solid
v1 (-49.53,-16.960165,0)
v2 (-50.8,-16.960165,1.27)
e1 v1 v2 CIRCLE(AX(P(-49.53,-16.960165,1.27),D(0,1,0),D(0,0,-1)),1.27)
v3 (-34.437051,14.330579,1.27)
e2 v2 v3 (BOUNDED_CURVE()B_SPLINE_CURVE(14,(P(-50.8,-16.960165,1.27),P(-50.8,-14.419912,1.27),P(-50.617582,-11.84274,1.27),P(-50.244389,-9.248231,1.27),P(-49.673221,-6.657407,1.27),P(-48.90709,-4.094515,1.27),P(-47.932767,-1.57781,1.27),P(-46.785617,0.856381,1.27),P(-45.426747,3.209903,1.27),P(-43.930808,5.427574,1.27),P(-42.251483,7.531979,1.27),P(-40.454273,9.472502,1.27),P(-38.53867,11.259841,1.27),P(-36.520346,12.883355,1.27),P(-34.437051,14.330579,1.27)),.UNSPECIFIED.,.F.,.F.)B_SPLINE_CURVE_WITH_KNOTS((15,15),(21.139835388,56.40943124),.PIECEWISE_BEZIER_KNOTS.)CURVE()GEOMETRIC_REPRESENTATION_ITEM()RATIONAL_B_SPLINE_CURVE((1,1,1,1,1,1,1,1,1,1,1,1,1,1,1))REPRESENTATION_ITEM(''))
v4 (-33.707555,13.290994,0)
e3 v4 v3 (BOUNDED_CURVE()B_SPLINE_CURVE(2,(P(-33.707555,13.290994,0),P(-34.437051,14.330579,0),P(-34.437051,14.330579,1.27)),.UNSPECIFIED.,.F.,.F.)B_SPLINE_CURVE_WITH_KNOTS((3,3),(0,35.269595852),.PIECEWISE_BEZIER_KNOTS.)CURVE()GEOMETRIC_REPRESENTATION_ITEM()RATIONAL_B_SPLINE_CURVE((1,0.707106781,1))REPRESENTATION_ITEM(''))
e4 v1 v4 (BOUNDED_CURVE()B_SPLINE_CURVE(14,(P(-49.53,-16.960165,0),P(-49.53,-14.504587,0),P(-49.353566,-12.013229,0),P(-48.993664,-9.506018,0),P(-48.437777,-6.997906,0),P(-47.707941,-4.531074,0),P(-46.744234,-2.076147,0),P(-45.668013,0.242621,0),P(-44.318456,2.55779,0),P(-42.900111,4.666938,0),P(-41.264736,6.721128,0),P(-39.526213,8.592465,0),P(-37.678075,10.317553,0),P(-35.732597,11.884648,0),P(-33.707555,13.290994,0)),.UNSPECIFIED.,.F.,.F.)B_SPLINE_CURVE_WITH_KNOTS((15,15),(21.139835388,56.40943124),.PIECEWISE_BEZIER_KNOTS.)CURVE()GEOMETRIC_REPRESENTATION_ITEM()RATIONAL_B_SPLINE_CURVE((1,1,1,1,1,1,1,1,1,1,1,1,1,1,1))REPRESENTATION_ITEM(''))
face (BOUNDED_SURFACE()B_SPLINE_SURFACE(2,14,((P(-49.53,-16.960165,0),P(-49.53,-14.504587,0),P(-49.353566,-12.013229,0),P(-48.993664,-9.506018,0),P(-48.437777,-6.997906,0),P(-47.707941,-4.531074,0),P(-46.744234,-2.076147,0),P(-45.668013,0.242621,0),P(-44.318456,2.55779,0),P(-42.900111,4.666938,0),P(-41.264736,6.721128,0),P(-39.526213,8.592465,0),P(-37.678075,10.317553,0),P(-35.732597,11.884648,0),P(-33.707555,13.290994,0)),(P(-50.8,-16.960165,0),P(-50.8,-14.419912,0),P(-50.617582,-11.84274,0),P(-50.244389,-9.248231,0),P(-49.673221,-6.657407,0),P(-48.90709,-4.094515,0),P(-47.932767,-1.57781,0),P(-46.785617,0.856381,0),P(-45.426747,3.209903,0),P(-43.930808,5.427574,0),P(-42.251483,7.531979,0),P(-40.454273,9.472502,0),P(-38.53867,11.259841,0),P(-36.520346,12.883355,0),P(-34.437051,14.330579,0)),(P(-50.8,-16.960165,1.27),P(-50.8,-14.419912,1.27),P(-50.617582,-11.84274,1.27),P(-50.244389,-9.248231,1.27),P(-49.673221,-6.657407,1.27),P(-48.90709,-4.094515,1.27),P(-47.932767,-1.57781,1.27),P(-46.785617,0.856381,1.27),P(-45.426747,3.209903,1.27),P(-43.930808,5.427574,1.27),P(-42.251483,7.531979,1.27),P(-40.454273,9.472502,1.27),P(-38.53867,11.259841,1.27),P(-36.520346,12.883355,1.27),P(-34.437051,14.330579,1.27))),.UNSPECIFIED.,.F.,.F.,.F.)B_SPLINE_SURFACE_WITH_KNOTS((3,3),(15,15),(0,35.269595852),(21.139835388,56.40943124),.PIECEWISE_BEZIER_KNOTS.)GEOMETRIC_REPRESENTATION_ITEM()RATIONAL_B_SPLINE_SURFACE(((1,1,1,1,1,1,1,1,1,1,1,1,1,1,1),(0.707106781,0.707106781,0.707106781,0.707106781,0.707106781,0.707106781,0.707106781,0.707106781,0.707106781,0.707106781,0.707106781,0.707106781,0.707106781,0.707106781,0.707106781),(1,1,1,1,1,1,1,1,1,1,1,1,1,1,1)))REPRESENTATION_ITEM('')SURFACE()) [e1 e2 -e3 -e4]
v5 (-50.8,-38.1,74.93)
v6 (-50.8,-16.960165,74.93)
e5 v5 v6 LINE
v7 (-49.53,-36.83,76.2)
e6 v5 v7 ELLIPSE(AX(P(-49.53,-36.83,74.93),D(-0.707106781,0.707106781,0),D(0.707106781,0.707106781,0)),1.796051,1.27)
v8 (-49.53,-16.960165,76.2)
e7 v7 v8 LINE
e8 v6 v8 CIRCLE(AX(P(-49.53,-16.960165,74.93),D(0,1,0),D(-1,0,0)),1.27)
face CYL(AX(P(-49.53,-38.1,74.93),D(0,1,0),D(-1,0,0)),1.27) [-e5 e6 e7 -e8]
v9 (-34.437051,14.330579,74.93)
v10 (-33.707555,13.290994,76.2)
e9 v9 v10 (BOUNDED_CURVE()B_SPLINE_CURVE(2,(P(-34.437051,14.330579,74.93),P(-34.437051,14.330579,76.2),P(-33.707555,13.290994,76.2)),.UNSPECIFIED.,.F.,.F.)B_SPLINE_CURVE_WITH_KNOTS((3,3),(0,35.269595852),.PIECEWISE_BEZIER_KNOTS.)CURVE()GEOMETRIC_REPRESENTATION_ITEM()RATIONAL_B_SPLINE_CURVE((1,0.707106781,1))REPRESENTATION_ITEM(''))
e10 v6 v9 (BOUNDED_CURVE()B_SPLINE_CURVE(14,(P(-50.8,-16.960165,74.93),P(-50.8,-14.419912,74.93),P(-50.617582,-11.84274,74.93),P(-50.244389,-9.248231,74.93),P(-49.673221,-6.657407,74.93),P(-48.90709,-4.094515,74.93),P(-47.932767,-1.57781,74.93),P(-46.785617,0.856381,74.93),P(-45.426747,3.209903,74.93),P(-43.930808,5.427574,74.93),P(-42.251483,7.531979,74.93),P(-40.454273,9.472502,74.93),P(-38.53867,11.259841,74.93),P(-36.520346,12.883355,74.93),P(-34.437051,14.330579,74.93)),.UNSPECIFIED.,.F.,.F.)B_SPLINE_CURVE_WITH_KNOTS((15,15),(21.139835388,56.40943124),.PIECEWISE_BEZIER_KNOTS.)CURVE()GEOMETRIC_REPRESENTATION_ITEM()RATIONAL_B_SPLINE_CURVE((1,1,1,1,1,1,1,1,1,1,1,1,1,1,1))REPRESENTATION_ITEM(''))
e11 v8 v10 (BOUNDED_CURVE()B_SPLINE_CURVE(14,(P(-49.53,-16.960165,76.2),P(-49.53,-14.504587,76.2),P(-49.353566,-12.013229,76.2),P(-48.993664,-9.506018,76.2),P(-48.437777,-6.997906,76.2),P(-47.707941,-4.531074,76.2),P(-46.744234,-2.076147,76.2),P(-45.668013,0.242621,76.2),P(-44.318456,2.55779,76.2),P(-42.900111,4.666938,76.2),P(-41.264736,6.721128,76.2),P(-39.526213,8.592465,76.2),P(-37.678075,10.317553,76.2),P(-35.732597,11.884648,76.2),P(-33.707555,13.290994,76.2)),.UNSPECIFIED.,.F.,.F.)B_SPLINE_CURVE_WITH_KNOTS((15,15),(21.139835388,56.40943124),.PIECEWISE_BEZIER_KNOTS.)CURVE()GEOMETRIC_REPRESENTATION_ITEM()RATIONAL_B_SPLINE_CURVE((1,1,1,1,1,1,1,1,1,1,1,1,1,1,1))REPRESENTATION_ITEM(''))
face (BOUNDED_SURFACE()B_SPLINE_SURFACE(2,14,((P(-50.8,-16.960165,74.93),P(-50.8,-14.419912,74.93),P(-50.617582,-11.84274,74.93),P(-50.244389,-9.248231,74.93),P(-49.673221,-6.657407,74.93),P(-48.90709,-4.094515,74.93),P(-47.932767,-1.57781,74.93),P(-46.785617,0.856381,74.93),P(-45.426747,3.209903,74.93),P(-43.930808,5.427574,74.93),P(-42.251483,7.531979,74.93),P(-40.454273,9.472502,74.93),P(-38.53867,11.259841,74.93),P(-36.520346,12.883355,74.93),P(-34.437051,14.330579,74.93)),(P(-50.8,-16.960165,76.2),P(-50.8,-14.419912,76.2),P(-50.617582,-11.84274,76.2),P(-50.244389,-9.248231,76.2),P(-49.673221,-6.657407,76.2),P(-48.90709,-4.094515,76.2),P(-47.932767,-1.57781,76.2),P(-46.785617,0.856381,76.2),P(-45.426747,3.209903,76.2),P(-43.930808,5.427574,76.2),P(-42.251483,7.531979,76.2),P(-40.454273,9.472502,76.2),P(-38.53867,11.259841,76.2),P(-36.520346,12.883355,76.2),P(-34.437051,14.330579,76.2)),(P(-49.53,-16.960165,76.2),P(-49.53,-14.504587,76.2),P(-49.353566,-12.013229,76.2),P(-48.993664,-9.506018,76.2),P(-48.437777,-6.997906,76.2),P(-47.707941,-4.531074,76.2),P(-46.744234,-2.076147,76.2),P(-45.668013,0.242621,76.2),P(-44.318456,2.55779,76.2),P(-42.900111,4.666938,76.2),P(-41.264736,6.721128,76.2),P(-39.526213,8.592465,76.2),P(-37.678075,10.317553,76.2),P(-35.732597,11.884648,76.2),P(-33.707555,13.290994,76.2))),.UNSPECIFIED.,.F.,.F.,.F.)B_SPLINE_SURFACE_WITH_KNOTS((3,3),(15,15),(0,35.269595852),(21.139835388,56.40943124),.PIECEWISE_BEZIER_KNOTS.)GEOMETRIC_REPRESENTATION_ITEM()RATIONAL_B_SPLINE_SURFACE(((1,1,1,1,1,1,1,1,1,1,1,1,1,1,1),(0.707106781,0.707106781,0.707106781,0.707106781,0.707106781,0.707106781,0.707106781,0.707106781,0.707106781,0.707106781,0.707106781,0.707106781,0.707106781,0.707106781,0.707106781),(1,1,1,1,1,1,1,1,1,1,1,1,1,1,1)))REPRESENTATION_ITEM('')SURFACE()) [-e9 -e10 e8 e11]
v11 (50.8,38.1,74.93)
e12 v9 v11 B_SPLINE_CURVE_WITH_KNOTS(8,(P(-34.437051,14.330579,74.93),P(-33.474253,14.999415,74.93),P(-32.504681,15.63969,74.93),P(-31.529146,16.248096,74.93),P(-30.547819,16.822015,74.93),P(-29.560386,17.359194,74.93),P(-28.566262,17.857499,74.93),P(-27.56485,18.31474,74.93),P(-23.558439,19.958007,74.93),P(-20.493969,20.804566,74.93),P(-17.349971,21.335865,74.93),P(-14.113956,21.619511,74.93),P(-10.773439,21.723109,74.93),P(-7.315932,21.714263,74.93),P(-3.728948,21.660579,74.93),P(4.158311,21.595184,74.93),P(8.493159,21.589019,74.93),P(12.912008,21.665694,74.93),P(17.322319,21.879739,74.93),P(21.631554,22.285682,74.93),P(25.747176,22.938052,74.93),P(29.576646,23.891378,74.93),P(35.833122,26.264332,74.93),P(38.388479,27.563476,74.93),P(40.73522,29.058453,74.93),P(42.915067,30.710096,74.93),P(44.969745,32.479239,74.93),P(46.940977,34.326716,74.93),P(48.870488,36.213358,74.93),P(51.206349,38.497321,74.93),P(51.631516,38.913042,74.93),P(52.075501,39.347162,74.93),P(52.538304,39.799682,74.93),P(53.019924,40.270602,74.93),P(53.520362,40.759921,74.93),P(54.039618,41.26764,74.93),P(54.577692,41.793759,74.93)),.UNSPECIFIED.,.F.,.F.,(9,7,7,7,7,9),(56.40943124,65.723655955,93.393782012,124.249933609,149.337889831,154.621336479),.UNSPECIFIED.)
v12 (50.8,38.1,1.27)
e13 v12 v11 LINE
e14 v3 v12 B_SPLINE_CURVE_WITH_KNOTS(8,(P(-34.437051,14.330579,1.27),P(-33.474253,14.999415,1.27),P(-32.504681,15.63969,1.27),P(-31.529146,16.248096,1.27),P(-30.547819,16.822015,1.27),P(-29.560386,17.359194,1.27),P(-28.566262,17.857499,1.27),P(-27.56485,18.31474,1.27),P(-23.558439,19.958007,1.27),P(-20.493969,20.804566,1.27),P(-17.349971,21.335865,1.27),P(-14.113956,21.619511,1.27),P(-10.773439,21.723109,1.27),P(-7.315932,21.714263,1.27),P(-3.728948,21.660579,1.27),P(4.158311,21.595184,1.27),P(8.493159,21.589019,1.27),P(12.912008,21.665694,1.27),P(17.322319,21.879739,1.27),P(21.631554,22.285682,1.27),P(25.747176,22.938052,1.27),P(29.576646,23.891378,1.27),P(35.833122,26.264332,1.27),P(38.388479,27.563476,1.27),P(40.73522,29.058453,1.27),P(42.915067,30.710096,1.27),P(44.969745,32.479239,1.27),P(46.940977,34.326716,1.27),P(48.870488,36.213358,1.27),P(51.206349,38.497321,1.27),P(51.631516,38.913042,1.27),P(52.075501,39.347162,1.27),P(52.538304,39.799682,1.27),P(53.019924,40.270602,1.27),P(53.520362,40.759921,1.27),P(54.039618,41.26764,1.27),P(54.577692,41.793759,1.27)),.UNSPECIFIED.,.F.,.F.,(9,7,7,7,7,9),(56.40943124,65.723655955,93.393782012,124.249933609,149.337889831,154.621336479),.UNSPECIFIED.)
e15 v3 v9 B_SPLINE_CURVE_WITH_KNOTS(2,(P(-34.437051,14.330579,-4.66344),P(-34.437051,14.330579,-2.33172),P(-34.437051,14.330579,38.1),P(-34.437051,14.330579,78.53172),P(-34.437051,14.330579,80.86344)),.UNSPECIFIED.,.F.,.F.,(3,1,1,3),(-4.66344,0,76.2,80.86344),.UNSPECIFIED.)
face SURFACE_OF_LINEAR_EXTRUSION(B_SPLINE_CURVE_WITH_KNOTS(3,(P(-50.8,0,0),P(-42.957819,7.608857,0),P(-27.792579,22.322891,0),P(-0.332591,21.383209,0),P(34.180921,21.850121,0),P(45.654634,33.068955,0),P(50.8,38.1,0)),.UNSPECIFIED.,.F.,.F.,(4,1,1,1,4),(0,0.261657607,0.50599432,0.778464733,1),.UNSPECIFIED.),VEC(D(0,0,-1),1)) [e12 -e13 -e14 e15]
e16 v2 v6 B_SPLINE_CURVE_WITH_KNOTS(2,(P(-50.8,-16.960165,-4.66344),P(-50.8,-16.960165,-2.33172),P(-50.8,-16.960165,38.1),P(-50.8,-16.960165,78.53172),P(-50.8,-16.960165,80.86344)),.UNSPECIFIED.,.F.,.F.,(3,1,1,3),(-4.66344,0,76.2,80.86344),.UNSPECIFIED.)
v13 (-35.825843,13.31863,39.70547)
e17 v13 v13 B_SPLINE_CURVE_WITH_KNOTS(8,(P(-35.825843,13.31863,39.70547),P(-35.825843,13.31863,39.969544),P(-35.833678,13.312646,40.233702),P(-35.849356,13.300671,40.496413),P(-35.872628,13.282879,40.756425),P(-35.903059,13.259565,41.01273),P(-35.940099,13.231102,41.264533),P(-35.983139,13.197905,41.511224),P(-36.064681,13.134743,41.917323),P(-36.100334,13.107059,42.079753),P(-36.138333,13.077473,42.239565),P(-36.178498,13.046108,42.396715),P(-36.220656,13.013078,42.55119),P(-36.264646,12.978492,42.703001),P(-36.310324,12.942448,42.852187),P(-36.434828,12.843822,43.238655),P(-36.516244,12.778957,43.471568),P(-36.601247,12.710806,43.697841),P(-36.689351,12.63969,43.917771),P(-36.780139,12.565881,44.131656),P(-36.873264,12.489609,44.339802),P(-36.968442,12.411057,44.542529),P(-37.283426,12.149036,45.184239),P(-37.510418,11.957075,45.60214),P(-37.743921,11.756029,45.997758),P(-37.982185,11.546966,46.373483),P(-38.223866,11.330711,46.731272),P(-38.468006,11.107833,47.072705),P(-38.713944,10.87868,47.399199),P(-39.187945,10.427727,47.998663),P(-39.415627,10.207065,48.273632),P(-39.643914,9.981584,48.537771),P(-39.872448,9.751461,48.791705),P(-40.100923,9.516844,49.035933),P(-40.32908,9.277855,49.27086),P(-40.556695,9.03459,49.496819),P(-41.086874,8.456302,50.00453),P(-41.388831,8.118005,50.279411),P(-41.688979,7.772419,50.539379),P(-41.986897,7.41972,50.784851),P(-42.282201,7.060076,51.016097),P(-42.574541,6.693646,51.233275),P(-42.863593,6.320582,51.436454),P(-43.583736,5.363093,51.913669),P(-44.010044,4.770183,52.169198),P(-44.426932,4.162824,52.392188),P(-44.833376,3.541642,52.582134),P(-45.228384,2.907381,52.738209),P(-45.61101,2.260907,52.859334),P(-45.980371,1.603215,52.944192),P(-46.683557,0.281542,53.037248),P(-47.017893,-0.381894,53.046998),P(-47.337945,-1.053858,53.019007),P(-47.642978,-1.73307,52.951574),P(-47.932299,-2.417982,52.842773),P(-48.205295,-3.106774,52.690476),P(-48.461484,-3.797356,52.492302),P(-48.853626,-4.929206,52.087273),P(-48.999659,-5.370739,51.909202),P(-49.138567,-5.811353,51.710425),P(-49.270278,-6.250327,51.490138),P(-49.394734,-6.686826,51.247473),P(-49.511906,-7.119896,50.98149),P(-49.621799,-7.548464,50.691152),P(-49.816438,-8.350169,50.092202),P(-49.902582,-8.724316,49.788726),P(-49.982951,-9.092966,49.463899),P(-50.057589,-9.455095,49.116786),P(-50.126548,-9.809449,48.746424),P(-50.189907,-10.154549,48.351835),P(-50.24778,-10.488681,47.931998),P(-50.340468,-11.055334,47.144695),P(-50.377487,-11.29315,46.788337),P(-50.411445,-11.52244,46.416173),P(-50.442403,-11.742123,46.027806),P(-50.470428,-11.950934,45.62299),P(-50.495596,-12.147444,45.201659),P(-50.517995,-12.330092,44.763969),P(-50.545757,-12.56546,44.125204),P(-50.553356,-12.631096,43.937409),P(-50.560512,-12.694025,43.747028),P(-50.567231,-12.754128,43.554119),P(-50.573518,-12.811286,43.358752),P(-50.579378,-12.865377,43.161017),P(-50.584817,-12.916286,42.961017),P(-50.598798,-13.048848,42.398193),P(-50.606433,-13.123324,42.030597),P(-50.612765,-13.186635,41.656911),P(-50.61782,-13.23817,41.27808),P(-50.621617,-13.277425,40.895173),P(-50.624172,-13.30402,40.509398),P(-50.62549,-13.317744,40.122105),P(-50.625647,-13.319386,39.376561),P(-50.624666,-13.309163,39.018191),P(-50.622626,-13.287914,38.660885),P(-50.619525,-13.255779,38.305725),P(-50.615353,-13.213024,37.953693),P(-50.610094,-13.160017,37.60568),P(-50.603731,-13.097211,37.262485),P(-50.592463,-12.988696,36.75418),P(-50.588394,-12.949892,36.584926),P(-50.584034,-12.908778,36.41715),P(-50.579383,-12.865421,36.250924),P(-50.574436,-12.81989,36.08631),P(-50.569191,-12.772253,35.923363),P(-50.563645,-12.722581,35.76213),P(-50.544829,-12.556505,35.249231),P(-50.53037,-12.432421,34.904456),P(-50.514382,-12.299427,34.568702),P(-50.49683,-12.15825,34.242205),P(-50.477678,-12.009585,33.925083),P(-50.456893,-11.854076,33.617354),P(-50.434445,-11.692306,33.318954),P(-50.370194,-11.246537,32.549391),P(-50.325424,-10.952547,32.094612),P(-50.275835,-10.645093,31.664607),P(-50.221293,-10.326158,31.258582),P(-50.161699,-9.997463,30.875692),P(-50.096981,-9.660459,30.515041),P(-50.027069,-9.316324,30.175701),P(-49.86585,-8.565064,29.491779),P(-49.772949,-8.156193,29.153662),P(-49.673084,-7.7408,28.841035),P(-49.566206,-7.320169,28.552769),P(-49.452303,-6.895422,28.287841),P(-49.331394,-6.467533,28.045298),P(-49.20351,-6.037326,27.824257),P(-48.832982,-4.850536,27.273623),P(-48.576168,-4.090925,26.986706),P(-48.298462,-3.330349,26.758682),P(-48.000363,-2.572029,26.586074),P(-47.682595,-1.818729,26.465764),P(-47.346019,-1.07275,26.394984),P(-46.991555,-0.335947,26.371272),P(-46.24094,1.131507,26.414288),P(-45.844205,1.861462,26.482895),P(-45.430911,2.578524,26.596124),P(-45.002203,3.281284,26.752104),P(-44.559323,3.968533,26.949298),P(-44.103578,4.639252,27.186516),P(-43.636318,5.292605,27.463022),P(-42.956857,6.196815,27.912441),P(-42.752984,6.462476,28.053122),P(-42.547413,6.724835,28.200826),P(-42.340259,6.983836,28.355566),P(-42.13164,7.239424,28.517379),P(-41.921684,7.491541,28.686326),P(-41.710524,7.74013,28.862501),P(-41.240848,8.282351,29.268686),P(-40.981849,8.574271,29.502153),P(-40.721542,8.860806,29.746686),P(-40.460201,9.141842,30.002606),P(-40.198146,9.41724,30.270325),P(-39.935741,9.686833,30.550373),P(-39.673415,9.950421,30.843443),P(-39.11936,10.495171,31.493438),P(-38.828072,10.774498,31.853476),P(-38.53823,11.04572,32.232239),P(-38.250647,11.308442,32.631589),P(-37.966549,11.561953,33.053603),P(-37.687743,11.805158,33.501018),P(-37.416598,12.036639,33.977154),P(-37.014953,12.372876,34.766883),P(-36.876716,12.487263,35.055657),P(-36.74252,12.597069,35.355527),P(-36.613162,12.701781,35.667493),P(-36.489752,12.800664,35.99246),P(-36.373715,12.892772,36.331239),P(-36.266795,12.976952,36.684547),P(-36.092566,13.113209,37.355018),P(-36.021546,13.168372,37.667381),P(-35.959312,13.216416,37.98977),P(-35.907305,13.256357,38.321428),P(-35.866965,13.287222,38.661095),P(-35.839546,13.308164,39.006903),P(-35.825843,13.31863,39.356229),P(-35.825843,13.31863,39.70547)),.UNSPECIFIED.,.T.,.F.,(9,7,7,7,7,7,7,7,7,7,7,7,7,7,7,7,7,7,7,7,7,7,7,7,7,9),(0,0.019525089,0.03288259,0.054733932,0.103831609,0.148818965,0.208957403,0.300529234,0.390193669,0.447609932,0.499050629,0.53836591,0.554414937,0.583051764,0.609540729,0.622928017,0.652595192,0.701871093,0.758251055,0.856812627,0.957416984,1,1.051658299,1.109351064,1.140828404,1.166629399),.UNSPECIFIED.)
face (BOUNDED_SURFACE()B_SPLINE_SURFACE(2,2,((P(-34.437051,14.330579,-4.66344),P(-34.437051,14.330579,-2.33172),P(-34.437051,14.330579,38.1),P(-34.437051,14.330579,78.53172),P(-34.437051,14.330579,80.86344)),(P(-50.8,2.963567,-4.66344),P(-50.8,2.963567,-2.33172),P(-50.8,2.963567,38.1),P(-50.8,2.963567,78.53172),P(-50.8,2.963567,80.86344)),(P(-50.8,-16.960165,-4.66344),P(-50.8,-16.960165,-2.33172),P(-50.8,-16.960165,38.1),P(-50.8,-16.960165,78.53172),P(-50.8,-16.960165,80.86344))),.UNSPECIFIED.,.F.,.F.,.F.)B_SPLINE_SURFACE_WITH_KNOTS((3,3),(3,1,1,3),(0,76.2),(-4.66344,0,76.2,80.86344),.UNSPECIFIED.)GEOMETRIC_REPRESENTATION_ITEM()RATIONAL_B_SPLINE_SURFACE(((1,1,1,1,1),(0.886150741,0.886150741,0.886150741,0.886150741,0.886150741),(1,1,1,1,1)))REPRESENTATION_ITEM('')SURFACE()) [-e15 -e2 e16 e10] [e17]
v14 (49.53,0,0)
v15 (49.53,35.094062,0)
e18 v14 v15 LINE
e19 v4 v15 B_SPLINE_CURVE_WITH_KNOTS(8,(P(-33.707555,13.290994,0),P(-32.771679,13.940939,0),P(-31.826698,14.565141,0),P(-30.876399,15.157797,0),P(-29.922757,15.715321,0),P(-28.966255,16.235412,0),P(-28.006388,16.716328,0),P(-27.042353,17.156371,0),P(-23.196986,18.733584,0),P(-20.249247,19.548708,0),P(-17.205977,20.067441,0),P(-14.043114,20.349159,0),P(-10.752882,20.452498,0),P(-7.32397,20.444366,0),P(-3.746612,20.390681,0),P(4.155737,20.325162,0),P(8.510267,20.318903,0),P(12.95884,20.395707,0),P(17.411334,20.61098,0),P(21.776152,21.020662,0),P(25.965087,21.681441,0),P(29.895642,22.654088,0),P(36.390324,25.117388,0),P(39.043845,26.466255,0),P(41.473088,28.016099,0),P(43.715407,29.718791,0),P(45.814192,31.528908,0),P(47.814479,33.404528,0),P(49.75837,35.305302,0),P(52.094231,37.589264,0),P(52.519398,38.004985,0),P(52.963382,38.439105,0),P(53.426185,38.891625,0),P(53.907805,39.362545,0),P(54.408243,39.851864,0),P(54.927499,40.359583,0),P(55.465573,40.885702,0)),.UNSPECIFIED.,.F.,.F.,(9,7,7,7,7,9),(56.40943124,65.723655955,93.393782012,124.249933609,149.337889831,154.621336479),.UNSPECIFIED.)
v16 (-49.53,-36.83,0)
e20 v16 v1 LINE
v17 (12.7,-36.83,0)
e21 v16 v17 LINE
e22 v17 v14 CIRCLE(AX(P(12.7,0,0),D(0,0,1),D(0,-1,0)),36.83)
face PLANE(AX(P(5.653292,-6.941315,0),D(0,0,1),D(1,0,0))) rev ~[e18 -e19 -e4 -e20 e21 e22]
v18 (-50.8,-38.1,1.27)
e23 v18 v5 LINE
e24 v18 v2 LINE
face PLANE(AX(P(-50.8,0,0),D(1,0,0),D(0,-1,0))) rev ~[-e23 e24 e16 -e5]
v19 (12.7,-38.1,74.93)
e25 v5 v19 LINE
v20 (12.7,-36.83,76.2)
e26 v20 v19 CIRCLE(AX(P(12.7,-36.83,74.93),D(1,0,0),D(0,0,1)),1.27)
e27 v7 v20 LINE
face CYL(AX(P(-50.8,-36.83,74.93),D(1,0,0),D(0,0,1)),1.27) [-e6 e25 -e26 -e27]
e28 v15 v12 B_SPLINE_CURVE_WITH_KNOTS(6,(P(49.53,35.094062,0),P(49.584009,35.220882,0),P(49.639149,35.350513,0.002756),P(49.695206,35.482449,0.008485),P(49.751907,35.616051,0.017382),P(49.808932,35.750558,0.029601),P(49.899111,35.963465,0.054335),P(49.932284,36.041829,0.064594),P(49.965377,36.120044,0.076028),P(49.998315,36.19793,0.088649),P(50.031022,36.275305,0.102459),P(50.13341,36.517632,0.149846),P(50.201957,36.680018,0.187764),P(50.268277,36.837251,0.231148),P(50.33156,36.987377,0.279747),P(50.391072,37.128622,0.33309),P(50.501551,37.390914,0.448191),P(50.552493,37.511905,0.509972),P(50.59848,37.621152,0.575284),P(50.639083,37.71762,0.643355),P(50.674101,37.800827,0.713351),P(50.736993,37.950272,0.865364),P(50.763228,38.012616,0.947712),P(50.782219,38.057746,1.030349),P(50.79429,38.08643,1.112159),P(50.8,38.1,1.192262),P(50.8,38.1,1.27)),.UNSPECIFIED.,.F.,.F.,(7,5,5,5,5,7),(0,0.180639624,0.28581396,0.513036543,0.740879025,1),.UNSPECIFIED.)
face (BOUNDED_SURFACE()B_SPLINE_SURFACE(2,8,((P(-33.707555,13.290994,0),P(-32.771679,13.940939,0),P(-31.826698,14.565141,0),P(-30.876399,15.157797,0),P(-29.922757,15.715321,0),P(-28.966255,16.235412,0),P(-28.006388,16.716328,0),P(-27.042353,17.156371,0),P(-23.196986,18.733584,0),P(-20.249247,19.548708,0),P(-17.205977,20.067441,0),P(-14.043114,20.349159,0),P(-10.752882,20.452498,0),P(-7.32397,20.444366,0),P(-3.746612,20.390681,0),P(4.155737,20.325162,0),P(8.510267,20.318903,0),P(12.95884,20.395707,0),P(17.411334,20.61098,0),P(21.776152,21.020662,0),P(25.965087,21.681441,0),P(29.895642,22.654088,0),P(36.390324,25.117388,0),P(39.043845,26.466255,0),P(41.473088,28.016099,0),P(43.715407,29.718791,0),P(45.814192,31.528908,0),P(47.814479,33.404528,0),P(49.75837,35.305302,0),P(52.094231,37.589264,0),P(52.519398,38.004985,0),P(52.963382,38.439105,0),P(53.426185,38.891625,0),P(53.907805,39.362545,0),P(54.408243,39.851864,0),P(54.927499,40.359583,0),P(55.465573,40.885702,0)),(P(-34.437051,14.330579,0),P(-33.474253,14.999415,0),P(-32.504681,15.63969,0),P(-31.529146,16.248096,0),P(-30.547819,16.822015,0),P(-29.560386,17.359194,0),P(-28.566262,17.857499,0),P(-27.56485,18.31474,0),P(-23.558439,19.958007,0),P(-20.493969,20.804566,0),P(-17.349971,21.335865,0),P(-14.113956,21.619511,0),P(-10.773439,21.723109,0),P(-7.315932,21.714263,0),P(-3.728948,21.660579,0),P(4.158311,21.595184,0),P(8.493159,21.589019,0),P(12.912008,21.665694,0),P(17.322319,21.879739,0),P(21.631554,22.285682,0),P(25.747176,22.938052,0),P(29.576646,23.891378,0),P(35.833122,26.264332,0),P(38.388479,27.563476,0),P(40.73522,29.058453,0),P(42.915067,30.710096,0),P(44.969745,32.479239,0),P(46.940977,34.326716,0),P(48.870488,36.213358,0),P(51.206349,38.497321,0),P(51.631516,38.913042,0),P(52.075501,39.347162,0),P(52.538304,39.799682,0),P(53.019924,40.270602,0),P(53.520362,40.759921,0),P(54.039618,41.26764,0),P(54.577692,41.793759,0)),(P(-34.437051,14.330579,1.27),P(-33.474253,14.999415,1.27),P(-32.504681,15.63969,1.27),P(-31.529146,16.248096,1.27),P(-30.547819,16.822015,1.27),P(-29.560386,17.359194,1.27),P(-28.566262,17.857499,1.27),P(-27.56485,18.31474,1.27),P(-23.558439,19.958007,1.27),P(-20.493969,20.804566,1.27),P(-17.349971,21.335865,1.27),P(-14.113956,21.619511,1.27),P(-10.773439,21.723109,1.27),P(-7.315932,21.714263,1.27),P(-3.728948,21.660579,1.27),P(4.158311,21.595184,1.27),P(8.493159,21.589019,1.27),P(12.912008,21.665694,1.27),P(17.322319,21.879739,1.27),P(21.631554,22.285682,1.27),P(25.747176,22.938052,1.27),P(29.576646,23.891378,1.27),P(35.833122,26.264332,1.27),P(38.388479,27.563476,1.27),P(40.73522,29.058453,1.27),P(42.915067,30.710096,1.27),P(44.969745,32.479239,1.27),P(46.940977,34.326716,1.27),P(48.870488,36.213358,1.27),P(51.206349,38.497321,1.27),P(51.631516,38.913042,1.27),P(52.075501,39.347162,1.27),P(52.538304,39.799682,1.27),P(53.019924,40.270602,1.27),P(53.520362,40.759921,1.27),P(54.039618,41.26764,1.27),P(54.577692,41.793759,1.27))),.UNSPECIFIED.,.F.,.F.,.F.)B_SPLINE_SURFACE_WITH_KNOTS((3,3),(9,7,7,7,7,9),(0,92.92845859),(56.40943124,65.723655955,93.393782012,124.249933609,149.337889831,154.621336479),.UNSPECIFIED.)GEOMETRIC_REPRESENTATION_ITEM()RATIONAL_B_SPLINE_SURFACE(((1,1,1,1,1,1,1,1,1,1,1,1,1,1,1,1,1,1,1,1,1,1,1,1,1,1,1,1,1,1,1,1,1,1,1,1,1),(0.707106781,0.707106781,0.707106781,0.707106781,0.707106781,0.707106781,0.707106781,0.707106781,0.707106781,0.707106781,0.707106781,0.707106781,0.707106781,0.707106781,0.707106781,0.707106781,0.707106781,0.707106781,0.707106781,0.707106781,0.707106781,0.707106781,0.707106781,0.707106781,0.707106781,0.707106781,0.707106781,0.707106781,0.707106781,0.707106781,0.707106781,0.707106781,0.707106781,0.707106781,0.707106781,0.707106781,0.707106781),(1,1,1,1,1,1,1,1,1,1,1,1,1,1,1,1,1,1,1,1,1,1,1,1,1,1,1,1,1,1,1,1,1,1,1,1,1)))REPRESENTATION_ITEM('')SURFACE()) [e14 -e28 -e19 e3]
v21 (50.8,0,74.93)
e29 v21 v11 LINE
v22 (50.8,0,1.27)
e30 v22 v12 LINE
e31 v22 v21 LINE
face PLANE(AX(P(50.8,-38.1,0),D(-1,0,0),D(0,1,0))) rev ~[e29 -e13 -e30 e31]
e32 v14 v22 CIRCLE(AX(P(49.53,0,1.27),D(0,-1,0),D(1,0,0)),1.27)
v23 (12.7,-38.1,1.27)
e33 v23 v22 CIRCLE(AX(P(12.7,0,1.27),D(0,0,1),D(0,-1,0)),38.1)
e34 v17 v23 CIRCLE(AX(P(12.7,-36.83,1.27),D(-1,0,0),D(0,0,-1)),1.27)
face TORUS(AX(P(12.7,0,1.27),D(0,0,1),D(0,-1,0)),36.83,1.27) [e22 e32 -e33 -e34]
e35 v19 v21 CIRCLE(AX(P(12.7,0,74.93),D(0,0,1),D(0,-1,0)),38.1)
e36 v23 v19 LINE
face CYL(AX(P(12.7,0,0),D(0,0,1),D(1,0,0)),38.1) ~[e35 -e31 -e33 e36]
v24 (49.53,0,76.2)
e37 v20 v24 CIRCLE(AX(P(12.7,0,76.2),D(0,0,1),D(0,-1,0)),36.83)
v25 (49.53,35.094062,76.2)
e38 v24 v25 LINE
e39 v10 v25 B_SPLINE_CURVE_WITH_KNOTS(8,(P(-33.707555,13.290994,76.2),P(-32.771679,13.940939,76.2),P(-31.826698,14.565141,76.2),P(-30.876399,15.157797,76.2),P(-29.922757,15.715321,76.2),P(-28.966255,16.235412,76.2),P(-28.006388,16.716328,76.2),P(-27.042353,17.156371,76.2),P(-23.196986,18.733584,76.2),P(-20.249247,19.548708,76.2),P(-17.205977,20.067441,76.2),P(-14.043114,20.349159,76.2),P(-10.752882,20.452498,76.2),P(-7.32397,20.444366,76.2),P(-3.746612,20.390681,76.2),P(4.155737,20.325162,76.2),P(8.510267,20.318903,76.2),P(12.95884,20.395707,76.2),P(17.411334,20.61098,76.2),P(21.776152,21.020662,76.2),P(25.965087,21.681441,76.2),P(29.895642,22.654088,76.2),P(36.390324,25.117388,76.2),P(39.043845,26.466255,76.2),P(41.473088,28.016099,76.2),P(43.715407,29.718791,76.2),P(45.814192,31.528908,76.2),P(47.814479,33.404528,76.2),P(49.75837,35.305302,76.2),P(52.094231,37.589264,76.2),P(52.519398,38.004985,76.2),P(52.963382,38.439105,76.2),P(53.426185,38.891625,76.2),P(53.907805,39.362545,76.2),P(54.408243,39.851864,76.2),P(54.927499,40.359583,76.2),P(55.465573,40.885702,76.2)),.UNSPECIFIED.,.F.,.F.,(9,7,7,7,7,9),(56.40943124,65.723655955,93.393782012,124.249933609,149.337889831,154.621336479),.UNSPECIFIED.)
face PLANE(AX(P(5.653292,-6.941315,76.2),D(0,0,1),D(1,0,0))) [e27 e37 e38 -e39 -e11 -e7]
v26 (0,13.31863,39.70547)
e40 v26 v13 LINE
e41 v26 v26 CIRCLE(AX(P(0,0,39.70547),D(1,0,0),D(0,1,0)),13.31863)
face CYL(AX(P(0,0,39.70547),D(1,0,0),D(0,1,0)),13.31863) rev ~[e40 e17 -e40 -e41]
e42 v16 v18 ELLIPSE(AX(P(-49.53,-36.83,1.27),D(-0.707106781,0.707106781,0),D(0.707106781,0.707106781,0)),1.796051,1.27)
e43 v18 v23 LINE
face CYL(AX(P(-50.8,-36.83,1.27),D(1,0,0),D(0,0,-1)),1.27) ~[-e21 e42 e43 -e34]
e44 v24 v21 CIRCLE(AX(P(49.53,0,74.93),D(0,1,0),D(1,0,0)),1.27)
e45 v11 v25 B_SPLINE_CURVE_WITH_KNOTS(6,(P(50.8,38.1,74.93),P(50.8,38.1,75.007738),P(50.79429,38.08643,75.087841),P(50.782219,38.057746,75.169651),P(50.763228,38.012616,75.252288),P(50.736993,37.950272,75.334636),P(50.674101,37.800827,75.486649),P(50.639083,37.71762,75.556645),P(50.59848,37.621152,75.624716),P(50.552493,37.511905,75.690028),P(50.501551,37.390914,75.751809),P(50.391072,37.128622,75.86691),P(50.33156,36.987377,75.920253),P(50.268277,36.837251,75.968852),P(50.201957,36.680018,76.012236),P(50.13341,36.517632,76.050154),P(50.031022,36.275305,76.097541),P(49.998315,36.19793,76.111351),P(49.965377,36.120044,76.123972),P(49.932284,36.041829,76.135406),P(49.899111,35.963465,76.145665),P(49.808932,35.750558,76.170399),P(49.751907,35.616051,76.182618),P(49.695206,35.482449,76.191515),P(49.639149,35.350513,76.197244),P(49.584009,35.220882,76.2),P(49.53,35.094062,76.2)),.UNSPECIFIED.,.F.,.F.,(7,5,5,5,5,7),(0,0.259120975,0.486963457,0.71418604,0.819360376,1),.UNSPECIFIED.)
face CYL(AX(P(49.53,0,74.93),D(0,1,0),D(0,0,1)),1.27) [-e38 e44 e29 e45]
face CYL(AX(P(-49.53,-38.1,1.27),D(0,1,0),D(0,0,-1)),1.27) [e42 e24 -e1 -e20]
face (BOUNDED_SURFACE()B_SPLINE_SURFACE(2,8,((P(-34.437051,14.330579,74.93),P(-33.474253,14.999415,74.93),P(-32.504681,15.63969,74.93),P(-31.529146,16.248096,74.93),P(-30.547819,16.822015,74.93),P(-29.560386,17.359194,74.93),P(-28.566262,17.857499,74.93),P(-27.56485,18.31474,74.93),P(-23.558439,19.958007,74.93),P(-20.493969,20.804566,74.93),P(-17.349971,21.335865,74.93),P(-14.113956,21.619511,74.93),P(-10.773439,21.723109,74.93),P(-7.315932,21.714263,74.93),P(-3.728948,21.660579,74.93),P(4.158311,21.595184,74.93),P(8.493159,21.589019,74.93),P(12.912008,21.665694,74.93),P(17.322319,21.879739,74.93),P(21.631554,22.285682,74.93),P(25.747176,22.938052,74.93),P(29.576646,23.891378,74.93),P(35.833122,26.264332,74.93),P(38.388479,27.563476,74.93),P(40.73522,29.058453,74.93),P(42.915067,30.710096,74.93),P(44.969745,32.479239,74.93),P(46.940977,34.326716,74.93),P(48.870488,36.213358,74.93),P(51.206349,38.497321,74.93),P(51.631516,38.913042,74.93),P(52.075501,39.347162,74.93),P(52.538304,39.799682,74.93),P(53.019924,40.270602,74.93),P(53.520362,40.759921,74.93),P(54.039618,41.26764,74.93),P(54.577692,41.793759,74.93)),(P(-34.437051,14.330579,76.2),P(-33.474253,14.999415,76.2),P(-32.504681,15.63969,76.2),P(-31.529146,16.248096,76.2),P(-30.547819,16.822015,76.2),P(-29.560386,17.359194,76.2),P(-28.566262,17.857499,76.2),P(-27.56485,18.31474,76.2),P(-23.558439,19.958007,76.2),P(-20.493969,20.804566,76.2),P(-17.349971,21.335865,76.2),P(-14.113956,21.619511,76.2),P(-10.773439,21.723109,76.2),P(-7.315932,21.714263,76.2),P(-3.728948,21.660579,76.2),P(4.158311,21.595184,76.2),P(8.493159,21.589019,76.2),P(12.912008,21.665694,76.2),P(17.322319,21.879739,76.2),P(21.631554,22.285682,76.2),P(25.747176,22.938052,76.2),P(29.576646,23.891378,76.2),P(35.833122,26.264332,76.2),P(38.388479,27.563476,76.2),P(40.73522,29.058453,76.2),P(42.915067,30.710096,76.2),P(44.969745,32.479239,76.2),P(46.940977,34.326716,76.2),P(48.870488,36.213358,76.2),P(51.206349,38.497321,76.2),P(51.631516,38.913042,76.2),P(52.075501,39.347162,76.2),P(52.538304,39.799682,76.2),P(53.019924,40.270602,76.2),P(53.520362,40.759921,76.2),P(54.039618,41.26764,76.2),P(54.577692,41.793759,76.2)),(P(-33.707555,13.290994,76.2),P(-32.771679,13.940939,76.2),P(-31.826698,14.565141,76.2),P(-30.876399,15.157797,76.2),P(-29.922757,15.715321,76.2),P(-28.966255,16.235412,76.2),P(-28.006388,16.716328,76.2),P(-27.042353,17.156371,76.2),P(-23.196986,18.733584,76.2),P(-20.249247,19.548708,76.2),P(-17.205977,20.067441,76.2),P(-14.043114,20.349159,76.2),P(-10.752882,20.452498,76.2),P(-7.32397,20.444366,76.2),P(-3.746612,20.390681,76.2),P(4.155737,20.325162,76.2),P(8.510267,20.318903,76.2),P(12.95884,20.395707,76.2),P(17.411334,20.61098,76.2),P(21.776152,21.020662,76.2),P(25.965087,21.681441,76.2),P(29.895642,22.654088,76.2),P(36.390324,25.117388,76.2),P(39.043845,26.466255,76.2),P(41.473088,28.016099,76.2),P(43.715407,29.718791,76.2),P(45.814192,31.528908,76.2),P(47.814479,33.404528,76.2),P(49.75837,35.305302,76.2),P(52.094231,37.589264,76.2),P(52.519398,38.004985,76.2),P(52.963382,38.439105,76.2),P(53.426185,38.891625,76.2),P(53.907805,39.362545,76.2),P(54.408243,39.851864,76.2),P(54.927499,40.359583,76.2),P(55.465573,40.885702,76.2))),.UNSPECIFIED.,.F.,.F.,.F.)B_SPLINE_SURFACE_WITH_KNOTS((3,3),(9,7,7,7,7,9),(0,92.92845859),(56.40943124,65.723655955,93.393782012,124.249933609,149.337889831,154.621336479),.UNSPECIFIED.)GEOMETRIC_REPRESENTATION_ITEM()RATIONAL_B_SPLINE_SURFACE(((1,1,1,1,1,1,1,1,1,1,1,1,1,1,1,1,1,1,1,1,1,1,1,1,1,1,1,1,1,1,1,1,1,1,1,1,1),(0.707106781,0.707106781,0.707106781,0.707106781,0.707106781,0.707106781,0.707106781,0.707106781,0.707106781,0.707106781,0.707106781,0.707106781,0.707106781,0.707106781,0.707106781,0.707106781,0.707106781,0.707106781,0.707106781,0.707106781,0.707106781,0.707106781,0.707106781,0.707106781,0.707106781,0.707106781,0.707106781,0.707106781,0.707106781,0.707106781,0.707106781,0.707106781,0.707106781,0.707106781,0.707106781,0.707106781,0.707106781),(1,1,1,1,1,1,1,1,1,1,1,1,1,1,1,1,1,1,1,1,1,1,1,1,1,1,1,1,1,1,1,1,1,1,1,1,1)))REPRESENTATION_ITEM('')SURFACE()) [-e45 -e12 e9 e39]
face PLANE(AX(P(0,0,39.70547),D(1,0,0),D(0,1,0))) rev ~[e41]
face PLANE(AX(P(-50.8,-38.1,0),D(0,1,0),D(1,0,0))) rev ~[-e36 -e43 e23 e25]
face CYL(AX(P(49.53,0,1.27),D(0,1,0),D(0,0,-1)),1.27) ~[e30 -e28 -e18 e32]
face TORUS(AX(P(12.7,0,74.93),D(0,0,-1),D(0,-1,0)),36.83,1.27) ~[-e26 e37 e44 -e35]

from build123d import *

# Parameters (mm, degrees)
F1_DEPTH = 76.2
F2_R     = 38.1
F3_R     = 1.27
F4_R     = 13.3186295464
F5_DEPTH = 50.8010001


with BuildPart() as f1:
    # F0 (on Top) → F1 (new body)
    with BuildSketch(Plane.XY):
        with BuildLine():
            Line((50.8, -38.1), (50.8, 38.1))
            add(Edge.make_bspline(
                [(-50.8, 0), (-42.9578186496, 7.6088566123), (-27.7925786216, 22.3228909539), (-0.3325914479, 21.3832091321), (34.1809209144, 21.8501210604), (45.6546344586, 33.0689548857), (50.8, 38.1)],
                knots=[0, 0, 0, 0, 0.2616576069, 0.5059943202, 0.7784647329, 1, 1, 1, 1], degree=3))
            Line((-50.8, 0), (-50.8, -38.1))
            Line((-50.8, -38.1), (50.8, -38.1))
        make_face()
    extrude(amount=F1_DEPTH)

    # F2
    f2_edges = [f1.edges().sort_by_distance(p)[0] for p in [
        (50.8, -38.1, 38.1),
        (-50.8, 0, 38.1),
    ]]
    fillet(f2_edges, radius=F2_R)

    # F3
    f3_edges = [f1.edges().sort_by_distance(p)[0] for p in [
        (9.791993, 21.686914, 76.2),
        (-19.05, -38.1, 76.2),
        (39.640768, -26.940768, 76.2),
        (-19.05, -38.1, 0),
        (9.791993, 21.686914, 0),
    ]]
    fillet(f3_edges, radius=F3_R)

    # F4 (on Right) → F5 (cut, through all)
    with BuildSketch(Plane.YZ):
        with Locations((0, 39.7054702044)):
            Circle(F4_R)
    extrude(amount=-F5_DEPTH, mode=Mode.SUBTRACT)


solid = f1.part
